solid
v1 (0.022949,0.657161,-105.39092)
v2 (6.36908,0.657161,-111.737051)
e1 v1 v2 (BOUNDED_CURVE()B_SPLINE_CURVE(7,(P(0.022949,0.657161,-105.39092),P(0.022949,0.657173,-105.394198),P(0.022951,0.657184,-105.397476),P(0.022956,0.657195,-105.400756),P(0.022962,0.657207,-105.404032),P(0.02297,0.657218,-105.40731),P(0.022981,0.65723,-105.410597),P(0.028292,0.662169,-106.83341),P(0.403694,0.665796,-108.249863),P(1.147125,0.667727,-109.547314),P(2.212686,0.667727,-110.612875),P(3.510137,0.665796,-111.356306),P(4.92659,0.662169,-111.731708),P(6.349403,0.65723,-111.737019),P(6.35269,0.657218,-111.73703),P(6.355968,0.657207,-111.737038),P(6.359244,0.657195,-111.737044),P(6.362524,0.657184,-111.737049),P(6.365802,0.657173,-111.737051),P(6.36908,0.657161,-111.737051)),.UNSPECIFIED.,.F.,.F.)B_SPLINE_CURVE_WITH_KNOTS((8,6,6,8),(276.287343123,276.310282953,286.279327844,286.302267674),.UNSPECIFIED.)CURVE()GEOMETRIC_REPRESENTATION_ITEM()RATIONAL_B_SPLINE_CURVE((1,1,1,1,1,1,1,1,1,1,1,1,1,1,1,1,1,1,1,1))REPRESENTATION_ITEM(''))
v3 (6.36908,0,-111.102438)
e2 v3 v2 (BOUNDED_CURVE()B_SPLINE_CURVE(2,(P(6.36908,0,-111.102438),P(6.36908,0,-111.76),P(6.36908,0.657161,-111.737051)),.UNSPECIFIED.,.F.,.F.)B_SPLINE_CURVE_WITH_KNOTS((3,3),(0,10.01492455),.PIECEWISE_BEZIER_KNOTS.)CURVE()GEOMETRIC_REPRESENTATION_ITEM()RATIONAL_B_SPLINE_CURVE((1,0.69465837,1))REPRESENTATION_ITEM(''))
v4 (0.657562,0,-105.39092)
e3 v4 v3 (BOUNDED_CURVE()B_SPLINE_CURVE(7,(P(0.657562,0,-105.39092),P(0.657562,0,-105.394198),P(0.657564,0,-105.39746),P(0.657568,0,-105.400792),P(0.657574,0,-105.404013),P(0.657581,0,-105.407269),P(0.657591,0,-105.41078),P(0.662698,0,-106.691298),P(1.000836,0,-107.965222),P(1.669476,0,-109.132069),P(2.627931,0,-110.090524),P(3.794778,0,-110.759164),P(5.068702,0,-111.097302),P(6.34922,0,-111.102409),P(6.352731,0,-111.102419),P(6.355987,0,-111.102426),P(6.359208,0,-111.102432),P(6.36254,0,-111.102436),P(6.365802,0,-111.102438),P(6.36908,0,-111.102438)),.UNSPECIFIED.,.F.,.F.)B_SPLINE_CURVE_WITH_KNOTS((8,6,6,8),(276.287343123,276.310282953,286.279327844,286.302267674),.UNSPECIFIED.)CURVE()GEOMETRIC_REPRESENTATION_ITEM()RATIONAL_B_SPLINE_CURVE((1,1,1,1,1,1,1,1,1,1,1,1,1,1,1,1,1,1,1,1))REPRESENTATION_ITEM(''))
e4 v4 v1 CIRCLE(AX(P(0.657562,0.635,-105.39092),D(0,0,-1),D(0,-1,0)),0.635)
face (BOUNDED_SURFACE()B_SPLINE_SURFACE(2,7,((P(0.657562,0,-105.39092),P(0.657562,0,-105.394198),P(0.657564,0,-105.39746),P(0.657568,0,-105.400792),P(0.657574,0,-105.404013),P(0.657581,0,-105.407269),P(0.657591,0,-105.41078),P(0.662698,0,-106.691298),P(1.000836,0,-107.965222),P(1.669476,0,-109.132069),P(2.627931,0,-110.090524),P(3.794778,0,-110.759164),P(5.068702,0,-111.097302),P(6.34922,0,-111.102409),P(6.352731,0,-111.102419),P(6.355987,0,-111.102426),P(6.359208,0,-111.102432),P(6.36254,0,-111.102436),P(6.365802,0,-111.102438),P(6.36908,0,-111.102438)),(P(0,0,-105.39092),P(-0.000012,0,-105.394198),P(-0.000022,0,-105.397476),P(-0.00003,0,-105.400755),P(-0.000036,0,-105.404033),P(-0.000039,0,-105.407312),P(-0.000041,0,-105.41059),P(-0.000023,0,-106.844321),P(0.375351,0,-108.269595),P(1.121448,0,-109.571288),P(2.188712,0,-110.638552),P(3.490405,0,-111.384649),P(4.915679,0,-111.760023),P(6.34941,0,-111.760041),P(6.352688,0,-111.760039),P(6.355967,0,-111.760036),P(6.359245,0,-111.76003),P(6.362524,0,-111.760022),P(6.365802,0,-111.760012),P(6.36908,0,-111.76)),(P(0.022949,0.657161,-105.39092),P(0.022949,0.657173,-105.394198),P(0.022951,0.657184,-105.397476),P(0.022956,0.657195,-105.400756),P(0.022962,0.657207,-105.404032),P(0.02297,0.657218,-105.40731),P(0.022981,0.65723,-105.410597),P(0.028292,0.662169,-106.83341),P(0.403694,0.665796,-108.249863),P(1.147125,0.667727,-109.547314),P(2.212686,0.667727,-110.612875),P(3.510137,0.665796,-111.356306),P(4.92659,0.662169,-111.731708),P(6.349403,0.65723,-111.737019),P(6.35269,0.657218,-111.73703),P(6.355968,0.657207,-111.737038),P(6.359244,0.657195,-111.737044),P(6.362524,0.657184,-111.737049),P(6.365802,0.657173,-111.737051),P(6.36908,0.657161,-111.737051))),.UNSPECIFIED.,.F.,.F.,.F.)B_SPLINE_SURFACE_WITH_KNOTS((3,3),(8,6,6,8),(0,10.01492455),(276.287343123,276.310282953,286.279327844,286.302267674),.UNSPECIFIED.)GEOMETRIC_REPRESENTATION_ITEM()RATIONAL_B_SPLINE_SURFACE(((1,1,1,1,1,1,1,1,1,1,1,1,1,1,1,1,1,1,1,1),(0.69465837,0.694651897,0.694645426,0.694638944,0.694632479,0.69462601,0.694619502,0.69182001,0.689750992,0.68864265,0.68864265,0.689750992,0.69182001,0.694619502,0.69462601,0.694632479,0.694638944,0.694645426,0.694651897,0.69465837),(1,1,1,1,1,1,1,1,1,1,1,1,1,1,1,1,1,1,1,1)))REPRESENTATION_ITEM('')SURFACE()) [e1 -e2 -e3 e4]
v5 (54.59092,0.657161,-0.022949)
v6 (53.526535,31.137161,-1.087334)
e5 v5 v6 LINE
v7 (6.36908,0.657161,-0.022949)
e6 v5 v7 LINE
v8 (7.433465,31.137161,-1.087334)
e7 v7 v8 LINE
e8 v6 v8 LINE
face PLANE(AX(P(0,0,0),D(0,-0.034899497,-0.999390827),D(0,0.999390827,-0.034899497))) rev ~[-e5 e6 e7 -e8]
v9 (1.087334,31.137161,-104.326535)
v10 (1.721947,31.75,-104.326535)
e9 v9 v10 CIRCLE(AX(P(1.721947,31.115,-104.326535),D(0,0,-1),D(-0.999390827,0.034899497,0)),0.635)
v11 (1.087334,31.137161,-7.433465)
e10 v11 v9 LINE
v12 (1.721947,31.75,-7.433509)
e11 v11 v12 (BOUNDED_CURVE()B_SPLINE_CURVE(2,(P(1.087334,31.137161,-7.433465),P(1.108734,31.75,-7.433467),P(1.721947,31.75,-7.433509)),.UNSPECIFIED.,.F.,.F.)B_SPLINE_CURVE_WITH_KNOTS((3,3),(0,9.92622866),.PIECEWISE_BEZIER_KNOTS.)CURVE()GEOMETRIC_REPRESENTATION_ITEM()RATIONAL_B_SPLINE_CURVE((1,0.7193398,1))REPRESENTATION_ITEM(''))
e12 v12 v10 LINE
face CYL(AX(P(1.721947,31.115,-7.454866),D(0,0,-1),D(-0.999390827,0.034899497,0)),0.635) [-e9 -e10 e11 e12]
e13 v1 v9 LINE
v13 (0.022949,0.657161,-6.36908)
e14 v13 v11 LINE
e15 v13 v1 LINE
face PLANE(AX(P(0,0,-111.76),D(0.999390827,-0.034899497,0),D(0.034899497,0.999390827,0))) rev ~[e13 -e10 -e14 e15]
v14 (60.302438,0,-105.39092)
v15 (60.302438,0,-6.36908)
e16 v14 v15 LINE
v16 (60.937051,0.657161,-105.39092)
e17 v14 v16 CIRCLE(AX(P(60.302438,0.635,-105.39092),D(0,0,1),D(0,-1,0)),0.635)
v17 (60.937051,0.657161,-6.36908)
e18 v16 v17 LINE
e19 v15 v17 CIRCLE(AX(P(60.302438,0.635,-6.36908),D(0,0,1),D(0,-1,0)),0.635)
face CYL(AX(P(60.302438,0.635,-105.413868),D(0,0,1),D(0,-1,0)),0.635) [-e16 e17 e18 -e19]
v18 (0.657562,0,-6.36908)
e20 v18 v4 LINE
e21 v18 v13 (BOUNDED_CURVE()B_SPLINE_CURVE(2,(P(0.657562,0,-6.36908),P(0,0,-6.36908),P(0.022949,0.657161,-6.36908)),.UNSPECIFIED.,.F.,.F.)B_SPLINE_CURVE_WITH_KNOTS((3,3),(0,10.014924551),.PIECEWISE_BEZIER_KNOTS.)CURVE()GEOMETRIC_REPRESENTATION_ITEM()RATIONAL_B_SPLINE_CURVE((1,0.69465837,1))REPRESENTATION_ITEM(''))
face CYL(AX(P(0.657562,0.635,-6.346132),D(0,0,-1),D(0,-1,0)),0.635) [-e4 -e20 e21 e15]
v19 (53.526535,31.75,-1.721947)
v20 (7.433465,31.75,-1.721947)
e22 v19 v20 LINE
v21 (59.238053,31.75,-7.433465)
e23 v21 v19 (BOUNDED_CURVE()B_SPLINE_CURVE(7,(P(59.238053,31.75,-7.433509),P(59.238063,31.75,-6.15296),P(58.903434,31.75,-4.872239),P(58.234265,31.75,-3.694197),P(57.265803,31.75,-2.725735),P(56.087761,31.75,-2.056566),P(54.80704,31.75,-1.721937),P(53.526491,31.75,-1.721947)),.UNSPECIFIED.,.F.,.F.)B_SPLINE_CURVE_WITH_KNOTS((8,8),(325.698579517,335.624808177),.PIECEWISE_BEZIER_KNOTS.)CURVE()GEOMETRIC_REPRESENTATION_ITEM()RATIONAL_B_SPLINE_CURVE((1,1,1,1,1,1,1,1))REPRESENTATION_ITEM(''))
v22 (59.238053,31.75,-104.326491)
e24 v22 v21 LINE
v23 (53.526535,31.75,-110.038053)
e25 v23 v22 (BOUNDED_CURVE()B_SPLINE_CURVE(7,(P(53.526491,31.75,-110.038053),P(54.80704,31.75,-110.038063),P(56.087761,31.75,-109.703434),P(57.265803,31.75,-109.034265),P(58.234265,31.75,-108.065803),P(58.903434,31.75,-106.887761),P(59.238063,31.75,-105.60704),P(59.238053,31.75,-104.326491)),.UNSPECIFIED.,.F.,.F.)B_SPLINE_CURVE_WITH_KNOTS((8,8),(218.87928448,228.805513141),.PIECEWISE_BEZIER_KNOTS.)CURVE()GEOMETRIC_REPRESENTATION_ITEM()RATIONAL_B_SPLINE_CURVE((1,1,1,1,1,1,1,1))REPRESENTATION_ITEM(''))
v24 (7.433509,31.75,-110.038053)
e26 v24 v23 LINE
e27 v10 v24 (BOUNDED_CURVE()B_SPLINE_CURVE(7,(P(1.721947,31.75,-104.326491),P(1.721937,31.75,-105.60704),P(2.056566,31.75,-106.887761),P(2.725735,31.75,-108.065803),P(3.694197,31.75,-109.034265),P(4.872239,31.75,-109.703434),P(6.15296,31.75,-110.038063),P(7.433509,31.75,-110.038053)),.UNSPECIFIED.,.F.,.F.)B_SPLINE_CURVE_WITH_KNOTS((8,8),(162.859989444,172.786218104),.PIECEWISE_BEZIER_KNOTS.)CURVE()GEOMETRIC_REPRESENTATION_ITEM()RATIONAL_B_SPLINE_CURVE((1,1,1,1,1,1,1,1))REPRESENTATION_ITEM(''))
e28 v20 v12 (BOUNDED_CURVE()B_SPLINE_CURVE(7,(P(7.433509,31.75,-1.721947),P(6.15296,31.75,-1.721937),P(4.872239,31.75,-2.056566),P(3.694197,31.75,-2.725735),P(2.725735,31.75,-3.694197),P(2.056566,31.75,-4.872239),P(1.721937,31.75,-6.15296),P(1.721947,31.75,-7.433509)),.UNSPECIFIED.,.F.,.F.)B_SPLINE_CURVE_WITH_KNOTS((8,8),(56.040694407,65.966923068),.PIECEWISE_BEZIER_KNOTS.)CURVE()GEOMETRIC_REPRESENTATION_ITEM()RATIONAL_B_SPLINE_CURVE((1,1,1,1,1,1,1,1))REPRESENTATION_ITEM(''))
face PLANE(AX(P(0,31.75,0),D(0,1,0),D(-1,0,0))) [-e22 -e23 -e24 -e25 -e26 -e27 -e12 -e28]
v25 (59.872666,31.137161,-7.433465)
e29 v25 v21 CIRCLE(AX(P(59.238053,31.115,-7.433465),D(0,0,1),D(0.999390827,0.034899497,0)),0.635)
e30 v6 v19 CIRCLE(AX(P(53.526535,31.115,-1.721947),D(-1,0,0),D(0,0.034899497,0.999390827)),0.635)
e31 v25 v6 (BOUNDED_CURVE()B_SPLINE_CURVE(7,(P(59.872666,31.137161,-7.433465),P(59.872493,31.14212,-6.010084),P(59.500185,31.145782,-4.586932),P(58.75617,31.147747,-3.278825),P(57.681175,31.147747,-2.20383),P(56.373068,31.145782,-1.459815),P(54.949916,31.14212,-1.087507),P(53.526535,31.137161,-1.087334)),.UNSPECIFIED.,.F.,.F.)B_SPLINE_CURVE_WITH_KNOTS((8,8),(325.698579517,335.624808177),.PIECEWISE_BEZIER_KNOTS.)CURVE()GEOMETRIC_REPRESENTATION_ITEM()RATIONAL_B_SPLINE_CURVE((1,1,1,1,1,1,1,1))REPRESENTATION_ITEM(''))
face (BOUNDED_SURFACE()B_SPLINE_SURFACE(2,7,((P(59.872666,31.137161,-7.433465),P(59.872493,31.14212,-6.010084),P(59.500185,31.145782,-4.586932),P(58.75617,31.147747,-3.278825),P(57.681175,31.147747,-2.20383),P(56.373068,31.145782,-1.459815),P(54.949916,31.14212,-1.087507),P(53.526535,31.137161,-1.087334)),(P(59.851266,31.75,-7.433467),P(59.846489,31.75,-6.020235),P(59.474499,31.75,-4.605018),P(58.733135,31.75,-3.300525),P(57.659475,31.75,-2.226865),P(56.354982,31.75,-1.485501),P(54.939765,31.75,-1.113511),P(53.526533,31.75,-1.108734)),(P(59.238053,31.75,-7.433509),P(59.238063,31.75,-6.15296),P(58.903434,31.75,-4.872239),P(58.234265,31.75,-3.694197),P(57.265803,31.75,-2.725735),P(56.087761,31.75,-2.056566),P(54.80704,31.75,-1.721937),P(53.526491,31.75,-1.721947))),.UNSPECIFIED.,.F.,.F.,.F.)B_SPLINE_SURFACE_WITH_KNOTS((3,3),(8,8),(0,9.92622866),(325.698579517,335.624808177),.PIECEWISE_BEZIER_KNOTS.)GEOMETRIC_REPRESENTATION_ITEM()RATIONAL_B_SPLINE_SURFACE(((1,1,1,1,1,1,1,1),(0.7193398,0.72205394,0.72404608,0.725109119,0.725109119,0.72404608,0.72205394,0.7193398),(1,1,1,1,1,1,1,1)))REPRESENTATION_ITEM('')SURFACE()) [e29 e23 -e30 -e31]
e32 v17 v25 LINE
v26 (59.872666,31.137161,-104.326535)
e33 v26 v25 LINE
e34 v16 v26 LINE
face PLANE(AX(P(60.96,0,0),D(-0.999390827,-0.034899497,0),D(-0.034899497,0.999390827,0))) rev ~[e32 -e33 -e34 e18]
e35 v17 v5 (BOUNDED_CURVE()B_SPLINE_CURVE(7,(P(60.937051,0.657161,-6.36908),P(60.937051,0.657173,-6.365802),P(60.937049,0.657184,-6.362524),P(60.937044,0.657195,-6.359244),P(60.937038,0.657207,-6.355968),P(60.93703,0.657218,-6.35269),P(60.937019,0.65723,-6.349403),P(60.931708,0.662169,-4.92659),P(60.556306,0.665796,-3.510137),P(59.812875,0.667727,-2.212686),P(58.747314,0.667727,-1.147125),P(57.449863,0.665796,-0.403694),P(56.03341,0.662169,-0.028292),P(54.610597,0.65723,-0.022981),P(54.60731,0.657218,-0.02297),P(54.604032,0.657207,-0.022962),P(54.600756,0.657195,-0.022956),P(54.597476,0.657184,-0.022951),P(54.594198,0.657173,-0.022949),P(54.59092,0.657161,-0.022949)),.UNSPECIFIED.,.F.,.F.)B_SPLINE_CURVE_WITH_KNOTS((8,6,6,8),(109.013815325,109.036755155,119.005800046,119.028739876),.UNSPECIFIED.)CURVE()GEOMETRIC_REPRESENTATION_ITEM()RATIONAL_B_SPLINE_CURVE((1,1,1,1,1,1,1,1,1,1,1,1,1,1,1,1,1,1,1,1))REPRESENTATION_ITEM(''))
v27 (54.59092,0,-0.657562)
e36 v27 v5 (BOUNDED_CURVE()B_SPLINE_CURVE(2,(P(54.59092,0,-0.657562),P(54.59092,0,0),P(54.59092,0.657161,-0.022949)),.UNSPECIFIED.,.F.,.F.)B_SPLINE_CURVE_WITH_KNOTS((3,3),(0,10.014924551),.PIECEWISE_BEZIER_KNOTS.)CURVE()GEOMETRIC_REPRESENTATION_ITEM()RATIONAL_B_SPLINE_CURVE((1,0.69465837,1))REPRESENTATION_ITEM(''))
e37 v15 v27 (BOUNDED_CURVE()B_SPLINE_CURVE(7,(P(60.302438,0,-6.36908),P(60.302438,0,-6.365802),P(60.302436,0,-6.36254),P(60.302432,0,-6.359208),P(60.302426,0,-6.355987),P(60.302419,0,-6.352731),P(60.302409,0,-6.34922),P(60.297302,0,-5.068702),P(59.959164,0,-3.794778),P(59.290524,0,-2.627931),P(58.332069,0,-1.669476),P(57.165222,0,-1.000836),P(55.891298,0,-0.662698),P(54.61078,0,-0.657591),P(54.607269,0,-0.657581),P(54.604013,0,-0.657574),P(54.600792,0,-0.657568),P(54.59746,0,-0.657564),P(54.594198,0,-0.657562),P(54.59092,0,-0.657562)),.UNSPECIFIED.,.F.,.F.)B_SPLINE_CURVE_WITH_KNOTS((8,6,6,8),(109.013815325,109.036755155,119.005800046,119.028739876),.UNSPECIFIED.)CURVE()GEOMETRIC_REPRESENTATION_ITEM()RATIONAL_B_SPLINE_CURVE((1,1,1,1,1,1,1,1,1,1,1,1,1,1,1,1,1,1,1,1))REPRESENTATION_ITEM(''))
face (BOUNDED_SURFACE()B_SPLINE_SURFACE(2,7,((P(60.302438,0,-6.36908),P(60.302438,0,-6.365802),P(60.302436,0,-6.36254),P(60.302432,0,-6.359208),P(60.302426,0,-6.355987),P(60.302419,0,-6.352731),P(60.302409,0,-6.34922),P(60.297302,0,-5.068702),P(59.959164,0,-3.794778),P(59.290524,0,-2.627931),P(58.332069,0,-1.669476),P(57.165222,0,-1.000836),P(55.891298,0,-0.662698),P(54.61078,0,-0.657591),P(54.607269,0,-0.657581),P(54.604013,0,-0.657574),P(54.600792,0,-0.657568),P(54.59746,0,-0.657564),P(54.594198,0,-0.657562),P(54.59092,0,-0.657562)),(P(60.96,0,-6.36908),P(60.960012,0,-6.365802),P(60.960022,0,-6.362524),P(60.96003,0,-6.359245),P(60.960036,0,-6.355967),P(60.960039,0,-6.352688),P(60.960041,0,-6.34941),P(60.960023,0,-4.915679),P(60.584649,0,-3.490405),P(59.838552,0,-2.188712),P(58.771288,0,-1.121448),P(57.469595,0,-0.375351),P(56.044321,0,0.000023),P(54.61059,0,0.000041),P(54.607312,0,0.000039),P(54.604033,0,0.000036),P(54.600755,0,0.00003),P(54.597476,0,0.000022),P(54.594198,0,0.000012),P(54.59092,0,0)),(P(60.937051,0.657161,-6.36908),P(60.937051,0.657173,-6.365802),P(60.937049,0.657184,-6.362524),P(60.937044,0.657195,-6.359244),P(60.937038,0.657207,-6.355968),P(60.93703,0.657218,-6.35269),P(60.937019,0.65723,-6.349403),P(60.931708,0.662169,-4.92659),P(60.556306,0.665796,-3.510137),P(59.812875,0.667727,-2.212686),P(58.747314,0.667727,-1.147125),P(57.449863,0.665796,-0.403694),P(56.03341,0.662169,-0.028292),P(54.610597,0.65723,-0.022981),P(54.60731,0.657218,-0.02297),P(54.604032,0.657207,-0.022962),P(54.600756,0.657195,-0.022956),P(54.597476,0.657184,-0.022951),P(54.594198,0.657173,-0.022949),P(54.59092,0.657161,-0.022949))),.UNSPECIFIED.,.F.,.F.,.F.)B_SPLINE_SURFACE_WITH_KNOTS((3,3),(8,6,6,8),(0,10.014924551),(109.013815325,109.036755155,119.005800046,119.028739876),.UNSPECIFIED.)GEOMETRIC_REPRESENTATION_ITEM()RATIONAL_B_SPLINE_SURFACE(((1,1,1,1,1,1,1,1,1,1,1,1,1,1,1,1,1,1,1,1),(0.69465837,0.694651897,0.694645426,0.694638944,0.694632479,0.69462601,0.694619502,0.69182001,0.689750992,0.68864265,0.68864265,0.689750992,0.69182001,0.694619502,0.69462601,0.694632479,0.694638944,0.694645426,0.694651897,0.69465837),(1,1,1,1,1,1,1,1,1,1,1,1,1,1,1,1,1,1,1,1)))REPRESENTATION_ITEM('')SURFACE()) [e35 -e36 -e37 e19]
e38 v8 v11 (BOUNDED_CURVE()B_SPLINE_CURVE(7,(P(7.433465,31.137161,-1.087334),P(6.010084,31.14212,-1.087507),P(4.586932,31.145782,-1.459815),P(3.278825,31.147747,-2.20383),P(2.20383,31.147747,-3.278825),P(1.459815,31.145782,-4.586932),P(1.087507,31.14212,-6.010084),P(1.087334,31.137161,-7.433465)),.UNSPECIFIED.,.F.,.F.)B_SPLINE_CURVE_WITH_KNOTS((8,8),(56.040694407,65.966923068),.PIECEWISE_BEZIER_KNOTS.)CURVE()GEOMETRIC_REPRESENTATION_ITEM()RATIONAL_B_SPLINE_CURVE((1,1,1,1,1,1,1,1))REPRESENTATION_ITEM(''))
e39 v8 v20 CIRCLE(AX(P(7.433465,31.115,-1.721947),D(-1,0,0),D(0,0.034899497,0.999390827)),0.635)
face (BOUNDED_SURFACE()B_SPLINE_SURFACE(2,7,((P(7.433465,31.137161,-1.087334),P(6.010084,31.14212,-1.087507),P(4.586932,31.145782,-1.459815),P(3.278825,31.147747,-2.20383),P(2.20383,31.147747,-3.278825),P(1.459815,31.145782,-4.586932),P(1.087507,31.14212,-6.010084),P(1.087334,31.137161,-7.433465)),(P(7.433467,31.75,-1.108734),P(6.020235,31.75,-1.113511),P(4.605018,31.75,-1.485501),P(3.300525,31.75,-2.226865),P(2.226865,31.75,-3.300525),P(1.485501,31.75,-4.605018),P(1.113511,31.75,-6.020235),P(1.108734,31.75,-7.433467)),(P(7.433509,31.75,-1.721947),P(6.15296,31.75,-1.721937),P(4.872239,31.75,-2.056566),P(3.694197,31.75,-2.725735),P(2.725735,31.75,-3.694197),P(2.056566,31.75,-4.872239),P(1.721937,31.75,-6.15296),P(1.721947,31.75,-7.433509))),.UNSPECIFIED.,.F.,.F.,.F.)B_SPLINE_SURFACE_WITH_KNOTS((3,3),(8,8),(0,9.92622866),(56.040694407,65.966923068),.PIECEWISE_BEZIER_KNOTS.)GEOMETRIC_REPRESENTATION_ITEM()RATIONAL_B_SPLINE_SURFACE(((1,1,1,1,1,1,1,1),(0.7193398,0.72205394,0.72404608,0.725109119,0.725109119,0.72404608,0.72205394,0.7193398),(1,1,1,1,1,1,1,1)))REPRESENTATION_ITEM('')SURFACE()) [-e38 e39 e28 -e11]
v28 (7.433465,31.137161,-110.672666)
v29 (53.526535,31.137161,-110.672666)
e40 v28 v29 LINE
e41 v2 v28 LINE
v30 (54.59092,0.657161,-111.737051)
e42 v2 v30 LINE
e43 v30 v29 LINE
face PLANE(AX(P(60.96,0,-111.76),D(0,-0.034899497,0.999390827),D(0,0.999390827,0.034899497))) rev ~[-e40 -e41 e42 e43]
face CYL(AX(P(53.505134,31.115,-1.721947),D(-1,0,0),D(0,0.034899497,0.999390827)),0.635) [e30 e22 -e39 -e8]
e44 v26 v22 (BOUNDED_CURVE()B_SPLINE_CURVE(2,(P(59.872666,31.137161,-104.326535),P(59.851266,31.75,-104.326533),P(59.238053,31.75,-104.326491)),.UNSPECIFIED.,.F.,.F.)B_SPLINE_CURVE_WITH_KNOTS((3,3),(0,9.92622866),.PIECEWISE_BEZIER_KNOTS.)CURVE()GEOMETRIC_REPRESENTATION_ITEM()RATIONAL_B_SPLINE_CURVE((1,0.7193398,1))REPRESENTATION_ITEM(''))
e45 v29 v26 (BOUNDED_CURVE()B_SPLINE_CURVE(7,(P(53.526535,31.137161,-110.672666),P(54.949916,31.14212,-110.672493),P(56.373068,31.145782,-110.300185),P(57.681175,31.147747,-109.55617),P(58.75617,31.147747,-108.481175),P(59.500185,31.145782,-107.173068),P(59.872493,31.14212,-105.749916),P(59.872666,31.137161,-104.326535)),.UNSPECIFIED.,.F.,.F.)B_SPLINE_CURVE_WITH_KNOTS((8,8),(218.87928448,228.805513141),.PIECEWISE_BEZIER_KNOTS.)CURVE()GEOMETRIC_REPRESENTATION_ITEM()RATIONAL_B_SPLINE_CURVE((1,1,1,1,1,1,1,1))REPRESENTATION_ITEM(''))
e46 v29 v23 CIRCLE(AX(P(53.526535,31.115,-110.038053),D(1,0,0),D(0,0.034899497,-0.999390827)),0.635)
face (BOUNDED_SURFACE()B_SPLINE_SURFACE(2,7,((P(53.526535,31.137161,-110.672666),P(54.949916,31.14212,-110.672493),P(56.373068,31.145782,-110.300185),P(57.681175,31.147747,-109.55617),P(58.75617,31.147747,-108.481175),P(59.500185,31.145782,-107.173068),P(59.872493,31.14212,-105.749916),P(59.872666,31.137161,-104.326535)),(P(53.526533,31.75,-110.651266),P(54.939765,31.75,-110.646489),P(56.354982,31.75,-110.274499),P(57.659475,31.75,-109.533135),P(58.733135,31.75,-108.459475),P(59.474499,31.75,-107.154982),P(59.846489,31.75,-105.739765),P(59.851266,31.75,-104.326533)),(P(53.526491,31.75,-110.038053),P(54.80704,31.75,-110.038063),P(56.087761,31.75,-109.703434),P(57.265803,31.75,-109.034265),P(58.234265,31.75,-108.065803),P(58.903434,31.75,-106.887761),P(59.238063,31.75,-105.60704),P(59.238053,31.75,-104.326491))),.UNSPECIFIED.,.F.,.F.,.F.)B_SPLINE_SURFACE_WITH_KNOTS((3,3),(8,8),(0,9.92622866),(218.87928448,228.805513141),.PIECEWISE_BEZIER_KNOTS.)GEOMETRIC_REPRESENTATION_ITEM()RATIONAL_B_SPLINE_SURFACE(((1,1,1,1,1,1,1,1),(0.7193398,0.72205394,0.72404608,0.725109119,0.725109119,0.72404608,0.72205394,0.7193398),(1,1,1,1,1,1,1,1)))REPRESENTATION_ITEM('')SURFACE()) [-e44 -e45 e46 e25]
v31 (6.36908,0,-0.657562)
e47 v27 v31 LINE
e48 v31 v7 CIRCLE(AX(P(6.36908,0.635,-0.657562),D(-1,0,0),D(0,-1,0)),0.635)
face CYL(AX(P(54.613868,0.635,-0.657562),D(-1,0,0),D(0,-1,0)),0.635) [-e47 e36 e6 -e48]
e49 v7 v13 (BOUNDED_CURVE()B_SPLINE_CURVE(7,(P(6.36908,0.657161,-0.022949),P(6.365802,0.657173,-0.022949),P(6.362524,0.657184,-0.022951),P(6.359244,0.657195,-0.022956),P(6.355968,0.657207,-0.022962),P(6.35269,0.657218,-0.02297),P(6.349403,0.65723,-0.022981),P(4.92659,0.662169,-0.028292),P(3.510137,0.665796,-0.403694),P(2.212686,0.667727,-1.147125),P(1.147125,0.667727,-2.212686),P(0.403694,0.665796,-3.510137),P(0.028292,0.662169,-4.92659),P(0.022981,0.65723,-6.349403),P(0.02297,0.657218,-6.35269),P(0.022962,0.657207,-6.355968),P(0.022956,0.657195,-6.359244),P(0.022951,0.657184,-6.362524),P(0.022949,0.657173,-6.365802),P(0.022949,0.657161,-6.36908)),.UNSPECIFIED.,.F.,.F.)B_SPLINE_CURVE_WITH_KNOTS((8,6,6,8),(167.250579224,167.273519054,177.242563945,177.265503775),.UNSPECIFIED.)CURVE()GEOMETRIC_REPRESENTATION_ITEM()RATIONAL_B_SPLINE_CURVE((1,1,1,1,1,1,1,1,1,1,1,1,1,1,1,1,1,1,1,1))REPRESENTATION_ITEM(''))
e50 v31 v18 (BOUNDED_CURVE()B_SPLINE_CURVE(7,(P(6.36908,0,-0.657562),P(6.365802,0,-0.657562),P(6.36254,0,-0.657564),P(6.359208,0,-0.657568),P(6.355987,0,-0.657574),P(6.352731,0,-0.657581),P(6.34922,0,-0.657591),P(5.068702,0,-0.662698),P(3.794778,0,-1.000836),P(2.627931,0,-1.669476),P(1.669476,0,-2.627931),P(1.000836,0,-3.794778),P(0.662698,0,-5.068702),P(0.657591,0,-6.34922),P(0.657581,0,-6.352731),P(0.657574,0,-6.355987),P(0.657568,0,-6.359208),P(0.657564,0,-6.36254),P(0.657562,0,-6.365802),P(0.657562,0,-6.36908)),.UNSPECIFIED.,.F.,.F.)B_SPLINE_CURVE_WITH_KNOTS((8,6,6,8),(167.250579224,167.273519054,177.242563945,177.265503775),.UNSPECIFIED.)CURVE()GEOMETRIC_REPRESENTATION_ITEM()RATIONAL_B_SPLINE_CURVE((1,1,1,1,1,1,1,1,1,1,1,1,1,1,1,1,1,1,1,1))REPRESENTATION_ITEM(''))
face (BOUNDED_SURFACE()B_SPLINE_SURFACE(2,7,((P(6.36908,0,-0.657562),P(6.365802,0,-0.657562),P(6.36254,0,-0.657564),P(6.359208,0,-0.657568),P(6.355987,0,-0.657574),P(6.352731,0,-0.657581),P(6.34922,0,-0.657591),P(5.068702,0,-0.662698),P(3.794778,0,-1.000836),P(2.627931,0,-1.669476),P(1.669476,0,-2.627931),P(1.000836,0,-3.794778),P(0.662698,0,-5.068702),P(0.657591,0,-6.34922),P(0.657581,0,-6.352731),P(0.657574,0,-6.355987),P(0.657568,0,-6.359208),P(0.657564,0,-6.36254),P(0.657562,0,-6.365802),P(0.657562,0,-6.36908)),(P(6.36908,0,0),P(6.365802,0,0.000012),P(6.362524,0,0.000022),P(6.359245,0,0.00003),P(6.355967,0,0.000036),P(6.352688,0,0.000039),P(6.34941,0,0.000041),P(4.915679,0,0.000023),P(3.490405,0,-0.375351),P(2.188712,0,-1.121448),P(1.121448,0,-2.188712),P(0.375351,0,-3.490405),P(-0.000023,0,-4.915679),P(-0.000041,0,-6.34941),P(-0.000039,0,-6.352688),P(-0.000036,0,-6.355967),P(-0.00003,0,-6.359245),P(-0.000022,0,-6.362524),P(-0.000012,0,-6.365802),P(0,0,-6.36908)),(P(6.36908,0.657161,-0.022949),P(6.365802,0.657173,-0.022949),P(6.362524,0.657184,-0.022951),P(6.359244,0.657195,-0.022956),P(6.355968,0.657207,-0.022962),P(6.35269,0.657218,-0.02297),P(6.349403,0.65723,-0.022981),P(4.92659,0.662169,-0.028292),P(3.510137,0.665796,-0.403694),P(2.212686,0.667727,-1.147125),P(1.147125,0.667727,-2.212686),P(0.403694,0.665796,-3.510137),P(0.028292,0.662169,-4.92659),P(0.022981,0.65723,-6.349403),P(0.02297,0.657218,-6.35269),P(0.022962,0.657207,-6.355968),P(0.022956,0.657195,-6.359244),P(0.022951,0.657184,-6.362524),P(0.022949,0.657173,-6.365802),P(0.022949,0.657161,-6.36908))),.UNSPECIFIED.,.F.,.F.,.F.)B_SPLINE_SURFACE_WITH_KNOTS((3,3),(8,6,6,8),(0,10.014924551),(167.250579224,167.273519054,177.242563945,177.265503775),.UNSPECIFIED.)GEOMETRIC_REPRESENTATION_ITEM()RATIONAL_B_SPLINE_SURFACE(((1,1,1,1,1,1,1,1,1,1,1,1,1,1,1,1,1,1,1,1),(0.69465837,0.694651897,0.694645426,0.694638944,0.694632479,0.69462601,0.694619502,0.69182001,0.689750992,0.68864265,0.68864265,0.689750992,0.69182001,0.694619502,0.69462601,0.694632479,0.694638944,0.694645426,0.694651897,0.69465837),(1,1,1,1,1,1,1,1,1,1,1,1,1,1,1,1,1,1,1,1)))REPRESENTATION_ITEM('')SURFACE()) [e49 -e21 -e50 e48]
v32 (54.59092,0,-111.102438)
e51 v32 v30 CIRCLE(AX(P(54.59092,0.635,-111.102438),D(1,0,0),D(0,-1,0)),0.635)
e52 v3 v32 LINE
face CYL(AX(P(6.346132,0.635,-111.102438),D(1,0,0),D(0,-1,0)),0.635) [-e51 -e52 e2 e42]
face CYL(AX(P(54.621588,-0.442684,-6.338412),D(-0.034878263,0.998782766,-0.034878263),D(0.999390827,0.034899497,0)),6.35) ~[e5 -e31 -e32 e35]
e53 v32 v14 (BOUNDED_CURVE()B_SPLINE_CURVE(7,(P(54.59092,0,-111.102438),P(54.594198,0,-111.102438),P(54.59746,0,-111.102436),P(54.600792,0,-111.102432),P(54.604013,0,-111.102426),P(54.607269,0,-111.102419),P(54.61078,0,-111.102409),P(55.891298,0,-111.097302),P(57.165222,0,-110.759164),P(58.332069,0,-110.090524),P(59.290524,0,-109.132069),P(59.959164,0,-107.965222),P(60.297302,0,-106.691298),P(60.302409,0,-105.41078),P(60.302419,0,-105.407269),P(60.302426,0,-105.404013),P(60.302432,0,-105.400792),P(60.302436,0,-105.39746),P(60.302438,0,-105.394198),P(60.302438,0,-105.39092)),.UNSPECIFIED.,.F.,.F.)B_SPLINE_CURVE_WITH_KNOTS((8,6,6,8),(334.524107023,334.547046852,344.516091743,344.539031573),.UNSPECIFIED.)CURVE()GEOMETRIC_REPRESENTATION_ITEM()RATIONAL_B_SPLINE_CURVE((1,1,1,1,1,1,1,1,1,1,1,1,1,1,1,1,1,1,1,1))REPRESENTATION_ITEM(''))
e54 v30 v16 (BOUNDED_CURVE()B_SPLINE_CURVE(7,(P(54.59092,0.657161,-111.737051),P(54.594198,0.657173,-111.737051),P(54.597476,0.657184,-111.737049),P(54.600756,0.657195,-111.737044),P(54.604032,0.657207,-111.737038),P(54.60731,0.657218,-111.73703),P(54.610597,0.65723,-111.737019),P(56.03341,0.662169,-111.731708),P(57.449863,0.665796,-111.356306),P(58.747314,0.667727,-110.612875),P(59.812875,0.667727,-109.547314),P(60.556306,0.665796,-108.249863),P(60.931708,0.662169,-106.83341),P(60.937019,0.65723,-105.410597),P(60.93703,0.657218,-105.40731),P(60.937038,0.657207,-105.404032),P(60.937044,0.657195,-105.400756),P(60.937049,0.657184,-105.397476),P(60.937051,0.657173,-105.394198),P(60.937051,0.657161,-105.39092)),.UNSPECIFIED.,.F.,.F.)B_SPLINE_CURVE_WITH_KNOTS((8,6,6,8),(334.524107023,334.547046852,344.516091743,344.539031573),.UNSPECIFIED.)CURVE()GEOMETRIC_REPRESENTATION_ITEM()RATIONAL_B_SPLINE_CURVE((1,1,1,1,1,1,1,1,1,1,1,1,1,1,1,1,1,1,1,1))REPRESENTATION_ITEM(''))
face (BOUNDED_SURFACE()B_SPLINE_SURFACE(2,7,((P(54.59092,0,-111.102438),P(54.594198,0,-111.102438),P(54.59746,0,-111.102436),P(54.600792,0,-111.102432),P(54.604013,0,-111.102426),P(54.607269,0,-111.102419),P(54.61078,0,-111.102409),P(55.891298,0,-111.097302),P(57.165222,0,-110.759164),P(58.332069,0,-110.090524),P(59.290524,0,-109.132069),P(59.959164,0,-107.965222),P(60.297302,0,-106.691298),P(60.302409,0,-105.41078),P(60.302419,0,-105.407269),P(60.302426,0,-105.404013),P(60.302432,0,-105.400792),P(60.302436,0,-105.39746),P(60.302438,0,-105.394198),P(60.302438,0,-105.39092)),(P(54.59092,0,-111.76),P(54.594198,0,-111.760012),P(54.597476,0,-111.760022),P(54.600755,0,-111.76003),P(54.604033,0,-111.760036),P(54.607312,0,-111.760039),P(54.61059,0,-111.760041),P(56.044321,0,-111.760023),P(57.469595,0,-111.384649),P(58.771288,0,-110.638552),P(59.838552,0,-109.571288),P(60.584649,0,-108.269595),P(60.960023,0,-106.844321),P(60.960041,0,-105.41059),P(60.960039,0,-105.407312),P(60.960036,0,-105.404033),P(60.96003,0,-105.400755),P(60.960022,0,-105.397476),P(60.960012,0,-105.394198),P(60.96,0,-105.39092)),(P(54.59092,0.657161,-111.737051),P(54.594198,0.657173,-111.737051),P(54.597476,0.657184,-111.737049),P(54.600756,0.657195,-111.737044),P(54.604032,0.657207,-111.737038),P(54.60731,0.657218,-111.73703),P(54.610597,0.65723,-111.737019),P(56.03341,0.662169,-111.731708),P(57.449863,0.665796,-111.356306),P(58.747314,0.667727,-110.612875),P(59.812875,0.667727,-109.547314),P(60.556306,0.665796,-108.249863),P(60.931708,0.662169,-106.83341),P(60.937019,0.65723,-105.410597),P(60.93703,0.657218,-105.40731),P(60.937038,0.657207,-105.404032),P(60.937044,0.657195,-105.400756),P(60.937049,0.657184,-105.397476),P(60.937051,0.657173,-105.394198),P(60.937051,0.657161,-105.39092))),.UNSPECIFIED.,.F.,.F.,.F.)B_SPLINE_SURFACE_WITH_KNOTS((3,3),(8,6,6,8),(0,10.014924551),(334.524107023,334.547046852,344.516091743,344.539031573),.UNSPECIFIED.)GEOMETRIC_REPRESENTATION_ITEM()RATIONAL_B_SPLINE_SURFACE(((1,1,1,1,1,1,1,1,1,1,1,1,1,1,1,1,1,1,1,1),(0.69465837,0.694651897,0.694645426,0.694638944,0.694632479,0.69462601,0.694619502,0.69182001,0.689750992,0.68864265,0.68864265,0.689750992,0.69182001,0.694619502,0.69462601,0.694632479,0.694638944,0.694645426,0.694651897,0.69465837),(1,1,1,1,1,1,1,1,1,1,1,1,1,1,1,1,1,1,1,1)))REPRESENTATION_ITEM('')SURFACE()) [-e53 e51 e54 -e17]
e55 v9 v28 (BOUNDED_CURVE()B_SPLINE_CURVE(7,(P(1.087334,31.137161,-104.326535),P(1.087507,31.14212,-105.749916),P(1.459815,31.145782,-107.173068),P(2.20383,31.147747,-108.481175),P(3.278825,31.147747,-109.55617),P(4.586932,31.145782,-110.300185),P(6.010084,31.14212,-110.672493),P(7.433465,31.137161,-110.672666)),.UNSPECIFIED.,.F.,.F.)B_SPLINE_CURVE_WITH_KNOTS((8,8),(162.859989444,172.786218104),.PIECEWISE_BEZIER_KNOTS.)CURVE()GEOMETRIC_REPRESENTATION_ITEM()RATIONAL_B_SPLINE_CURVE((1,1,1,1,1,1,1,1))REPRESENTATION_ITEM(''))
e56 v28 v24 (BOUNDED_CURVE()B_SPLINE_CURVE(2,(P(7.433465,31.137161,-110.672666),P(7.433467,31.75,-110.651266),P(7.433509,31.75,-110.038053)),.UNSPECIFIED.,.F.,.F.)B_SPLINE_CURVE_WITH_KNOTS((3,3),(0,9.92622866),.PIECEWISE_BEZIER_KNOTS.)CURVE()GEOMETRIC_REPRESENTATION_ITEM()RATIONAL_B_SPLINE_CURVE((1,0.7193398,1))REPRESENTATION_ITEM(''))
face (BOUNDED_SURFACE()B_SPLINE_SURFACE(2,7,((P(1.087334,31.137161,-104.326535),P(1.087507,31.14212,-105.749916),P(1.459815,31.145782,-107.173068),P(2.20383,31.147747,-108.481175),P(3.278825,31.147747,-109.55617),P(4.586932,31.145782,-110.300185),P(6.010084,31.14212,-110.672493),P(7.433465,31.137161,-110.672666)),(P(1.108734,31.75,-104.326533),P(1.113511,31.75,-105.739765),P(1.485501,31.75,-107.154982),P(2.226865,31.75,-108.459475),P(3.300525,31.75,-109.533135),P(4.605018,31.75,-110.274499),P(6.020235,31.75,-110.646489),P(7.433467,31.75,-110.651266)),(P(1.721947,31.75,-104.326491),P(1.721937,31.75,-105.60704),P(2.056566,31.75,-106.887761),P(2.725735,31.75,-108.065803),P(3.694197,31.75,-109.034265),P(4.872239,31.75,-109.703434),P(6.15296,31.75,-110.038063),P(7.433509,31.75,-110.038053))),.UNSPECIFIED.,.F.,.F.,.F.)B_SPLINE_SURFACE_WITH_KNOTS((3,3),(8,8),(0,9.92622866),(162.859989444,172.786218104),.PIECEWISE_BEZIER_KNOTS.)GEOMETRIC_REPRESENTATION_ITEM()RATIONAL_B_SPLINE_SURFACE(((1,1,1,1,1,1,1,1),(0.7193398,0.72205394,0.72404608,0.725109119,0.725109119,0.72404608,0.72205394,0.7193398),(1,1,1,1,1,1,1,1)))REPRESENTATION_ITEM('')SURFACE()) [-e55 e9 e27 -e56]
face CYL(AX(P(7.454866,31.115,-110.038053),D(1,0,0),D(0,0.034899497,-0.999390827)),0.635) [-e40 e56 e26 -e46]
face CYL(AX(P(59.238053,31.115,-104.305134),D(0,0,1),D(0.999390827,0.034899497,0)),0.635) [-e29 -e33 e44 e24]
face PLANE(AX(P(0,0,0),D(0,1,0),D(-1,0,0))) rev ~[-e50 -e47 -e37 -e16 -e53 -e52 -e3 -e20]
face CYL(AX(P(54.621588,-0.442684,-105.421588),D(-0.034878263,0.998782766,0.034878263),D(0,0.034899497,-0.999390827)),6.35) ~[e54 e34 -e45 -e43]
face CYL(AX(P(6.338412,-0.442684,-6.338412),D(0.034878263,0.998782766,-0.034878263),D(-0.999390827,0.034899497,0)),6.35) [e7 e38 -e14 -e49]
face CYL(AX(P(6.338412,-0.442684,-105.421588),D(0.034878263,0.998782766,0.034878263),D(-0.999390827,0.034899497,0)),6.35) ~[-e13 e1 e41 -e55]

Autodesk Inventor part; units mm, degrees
ref_plane "YZ Plane" through (0, 0, 0) normal (1, 0, 0) x (0, 1, 0)
ref_plane "XZ Plane" through (0, 0, 0) normal (0, 1, 0) x (-1, 0, 0)
ref_plane "XY Plane" through (0, 0, 0) normal (0, 0, 1) x (1, 0, 0)
sketch "Sketch1" plane through (0, 0, 0) normal (0, 1, 0) x (-1, 0, 0)
  line L0 (0, 0) -> (-60.96, 0)
  line L1 (-60.96, 0) -> (-60.96, -111.76)
  line L2 (-60.96, -111.76) -> (0, -111.76)
  line L3 (0, -111.76) -> (0, 0)
  dimension "d0" = 60.96
  dimension "d1" = 111.76
extrude "Extrusion1" add sketch "Sketch1" along normal blind 31.75 draft -2
fillet "Fillet1" radius 6.35 4 edges at (60.4056, 15.875, -0.5544) (60.4056, 15.875, -111.2056) (0.5544, 15.875, -111.2056) (0.5544, 15.875, -0.5544)
fillet "Fillet2" radius 0.635 16 edges at (57.993, 31.75, -2.967) (30.48, 31.75, -1.1087) (2.967, 31.75, -2.967) (1.1087, 31.75, -55.88) (2.967, 31.75, -108.793) (30.48, 31.75, -110.6513) (57.993, 31.75, -108.793) (59.8513, 31.75, -55.88) (59.1017, 0, -109.9017) (30.48, 0, -111.76) (1.8583, 0, -109.9017) (0, 0, -55.88) (1.8583, 0, -1.8583) (30.48, 0, 0) (59.1017, 0, -1.8583) (60.96, 0, -55.88)
properties part number "Compressor" material "Aluminum 6061"
